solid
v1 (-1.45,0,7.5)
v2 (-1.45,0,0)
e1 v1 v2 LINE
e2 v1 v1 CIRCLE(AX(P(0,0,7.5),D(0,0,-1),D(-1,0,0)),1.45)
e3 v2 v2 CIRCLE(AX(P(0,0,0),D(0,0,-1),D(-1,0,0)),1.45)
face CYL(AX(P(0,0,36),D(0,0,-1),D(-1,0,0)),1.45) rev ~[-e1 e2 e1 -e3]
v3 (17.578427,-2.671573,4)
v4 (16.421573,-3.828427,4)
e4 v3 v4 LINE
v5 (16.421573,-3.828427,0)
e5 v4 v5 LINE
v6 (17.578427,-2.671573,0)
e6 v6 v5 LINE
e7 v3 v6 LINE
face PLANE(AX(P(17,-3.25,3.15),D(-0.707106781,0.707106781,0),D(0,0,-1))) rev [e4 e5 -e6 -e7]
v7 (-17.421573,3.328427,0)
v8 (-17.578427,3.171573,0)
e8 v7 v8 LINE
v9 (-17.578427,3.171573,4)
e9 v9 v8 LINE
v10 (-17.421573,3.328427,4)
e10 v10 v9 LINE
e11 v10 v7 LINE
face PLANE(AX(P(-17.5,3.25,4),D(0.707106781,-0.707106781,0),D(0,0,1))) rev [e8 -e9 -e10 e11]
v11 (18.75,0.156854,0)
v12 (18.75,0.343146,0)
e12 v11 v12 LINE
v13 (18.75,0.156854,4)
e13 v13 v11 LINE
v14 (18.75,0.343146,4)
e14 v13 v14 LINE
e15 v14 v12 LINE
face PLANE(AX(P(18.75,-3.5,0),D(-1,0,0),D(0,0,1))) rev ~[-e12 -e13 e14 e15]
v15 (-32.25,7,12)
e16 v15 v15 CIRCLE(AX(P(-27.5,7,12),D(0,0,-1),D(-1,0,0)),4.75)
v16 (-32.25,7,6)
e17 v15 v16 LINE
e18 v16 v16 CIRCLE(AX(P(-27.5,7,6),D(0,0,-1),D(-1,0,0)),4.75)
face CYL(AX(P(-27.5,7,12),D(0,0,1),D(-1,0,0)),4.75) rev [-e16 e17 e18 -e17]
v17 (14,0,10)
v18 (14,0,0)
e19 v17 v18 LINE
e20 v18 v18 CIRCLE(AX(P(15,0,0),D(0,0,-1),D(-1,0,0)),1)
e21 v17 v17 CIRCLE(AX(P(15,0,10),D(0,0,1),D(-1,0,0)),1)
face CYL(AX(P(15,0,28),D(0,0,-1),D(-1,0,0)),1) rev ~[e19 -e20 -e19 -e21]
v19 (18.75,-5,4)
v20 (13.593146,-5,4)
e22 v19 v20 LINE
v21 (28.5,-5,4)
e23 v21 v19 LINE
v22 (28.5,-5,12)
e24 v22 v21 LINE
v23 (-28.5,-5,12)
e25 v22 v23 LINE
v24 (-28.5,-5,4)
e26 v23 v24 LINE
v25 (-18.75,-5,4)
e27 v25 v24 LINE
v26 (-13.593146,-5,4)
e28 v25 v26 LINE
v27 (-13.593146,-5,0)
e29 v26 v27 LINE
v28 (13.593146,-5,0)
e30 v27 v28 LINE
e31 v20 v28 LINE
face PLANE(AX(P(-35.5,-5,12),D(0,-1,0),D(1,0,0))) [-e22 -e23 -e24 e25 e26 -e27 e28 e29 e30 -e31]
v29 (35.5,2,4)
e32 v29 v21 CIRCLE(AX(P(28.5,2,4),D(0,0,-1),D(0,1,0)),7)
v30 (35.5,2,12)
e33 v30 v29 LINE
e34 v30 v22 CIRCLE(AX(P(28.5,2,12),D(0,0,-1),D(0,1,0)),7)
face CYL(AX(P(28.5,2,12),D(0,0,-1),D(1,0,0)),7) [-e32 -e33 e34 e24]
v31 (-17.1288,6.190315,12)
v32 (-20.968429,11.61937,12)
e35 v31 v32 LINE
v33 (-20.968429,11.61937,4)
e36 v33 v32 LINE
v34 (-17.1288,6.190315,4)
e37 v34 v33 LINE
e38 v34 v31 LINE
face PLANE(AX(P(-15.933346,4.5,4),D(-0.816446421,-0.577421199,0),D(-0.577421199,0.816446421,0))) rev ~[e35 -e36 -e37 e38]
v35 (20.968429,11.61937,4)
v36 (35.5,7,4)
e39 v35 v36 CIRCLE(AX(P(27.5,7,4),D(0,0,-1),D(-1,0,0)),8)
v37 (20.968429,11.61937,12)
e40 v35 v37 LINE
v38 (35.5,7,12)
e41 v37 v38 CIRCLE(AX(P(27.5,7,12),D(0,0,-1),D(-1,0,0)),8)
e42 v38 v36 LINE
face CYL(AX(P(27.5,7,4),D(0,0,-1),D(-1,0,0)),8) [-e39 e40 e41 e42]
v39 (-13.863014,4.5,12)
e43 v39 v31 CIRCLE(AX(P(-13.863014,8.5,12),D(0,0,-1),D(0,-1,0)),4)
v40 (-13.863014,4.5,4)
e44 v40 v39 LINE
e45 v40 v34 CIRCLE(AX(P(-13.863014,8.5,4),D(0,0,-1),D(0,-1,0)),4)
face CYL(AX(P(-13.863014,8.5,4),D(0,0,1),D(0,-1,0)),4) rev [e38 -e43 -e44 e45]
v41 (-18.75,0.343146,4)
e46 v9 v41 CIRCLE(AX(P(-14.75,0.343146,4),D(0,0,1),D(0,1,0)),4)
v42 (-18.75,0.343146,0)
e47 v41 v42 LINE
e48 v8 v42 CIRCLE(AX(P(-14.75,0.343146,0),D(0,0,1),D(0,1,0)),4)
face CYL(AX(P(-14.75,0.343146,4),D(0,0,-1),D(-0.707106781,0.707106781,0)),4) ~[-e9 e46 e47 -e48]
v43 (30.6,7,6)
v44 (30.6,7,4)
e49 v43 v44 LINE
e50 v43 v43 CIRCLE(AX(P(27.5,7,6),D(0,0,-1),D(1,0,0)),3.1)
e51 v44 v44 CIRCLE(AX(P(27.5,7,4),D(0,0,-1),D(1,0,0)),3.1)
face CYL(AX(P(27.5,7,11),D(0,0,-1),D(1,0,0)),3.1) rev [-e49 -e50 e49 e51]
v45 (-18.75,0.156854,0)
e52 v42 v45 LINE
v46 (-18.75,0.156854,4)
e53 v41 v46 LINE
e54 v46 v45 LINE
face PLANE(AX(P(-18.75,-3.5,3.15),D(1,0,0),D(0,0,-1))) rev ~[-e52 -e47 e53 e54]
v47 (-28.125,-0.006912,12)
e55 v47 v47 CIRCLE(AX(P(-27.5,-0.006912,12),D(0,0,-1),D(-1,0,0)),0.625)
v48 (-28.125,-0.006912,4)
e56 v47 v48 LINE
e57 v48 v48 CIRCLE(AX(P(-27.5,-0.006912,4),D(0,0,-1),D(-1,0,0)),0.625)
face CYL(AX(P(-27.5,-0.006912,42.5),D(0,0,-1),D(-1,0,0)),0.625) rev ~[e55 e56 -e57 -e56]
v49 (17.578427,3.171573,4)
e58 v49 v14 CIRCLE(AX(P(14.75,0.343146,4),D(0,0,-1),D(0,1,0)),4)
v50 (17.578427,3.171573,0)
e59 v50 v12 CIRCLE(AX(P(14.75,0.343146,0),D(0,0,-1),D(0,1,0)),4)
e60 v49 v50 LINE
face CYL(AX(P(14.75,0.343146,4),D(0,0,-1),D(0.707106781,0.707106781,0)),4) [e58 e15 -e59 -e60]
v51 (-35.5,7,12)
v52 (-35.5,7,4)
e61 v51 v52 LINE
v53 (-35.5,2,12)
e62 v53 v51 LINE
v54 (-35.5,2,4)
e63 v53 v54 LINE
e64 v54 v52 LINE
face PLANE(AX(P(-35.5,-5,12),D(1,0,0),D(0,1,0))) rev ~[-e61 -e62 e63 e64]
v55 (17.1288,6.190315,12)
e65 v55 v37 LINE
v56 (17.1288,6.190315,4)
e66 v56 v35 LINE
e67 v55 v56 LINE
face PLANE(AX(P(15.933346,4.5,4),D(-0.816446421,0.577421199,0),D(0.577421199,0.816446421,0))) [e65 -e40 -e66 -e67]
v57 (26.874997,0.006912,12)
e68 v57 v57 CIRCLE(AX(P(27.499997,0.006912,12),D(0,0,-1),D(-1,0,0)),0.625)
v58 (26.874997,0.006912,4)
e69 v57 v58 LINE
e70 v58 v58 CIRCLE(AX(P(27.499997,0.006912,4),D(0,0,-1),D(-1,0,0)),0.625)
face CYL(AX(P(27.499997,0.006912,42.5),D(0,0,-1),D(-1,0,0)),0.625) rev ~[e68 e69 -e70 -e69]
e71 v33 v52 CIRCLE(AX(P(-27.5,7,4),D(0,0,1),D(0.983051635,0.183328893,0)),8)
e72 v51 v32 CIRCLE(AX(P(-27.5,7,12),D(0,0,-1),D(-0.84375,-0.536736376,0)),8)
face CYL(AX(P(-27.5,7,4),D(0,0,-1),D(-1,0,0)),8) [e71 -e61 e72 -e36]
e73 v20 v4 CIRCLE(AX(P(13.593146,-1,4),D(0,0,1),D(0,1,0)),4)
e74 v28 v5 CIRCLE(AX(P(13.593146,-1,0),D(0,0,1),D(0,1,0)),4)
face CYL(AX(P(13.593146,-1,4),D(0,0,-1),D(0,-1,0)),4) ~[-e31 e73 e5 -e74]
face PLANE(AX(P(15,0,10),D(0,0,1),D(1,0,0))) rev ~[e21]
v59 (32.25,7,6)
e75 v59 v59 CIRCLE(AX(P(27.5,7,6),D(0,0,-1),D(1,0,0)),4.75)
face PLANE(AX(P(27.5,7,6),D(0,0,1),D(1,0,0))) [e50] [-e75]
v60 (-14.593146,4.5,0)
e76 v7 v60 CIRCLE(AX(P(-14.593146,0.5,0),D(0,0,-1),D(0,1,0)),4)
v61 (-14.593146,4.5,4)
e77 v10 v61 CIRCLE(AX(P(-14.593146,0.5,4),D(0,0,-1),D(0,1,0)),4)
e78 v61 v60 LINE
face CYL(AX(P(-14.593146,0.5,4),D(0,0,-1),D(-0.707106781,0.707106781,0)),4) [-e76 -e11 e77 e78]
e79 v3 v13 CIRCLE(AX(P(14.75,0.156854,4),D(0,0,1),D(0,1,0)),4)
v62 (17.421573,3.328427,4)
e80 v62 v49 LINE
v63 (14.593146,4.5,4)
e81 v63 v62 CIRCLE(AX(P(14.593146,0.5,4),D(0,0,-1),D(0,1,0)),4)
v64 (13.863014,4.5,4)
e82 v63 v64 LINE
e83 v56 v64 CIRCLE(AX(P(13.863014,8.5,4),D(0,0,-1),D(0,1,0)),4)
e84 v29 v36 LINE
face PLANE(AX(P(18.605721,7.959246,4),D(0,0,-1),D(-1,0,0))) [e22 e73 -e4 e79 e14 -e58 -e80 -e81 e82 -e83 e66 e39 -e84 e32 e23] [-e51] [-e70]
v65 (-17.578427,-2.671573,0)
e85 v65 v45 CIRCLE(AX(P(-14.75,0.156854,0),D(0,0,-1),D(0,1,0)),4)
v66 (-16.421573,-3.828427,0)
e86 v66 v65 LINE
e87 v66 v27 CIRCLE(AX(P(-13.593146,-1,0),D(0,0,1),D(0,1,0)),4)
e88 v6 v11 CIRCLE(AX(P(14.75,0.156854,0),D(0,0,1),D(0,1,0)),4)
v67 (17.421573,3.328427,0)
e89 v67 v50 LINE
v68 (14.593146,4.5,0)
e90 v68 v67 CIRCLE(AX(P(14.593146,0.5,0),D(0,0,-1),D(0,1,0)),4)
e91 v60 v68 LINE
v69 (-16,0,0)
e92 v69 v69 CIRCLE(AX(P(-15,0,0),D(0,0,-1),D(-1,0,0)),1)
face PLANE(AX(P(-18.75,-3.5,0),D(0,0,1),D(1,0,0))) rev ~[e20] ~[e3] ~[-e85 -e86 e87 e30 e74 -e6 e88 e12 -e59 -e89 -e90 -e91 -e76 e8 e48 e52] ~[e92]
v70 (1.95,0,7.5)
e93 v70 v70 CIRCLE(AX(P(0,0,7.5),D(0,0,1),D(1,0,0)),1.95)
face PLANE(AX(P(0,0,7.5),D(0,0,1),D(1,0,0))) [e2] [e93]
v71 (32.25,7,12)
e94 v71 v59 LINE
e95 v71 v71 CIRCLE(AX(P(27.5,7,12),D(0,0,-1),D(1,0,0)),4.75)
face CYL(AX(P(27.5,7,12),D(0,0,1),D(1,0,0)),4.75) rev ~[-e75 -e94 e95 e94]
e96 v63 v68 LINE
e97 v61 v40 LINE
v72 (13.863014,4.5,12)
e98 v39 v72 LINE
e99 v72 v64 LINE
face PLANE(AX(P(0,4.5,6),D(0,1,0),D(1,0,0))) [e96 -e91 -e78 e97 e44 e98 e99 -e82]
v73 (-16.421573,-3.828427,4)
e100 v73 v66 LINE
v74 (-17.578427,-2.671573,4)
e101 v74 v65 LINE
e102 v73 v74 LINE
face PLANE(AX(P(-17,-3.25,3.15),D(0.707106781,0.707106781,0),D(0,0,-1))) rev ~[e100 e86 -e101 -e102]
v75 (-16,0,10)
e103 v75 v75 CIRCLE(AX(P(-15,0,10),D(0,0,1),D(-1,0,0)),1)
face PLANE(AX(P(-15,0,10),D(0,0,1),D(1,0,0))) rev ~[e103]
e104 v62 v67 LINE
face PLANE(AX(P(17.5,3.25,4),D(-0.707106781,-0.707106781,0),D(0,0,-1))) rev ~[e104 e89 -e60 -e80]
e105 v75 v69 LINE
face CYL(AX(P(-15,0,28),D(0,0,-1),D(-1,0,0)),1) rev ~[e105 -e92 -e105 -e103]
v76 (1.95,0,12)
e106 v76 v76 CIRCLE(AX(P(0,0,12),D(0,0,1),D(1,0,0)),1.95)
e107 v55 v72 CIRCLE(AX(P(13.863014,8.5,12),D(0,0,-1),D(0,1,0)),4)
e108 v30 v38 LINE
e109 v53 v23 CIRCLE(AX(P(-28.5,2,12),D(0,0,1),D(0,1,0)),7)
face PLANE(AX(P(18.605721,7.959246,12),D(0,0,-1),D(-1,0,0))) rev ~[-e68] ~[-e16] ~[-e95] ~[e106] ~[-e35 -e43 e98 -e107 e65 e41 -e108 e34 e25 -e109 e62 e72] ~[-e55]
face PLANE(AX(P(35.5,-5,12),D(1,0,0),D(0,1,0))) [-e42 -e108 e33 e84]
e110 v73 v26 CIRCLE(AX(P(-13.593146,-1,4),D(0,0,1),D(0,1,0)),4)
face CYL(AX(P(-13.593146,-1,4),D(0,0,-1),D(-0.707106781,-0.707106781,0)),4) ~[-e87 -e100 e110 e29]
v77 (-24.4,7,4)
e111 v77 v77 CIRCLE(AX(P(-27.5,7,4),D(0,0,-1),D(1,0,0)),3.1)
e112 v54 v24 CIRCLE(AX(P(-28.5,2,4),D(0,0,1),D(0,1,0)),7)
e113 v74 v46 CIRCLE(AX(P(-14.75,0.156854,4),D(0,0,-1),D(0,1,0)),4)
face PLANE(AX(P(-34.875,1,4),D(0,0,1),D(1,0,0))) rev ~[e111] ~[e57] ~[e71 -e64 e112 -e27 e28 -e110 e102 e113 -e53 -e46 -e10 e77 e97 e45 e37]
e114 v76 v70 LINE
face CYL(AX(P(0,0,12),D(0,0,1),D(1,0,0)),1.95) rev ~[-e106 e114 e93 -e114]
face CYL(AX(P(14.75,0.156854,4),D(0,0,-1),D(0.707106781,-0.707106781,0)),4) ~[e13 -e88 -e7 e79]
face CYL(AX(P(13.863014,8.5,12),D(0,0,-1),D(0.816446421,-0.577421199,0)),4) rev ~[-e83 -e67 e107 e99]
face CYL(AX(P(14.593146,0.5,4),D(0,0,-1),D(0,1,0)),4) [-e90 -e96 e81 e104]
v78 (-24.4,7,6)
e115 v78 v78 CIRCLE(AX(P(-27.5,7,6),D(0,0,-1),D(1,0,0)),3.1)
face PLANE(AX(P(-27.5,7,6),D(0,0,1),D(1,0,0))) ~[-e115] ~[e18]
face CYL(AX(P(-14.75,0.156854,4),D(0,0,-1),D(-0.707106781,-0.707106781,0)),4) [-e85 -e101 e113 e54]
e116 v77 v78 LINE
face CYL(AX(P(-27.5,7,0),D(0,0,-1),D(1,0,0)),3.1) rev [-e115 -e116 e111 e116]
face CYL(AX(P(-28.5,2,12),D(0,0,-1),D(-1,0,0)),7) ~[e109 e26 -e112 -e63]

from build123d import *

# Parameters (mm, degrees)
SKETCH1_W                     = 68.5
SKETCH1_H                     = 7
BOSS_EXTRUDE1_DEPTH           = 12
BOSS_EXTRUDE1_DEPTH_BACK      = 12
SKETCH2_W                     = 15.5
SKETCH2_H                     = 6.3
CUT_EXTRUDE1_DEPTH            = 8
SKETCH3_W                     = 13.5
SKETCH3_H                     = 8.85
BOSS_EXTRUDE2_DEPTH           = 10
SKETCH4_R                     = 3.1
CUT_EXTRUDE2_DEPTH            = 22
CUT_EXTRUDE2_DEPTH_BACK       = 24.5
CUT_EXTRUDE3_DEPTH            = 5
SKETCH6_R                     = 6.2
CUT_EXTRUDE4_DEPTH            = 1
MIRROR2_COPY_1_SKETCH_R       = 6.2
MIRROR2_COPY_1_DEPTH          = 1
SKETCH7_W                     = 13.5
SKETCH7_H                     = 8.5
CUT_EXTRUDE5_DEPTH            = 1
MIRROR5_COPY_1_SKETCH_W       = 13.5
MIRROR5_COPY_1_SKETCH_H       = 8.5
MIRROR5_COPY_1_DEPTH          = 1
TAP_DRILL_FOR_M2_TAP1_D       = 1.6
CUT_EXTRUDE6_DEPTH            = 27
SKETCH12_W                    = 73.606041854
SKETCH12_H                    = 30.436261762
CUT_EXTRUDE7_DEPTH            = 22
F_2_0_2_DIAMETER_HOLE2_D      = 2
F_2_0_2_DIAMETER_HOLE2_DEPTH  = 16
F_2_0_2_DIAMETER_HOLE2_TIP    = 0.600860619
F_2_0_2_DIAMETER_HOLE1_D      = 2
F_2_0_2_DIAMETER_HOLE1_DEPTH  = 16
F_2_0_2_DIAMETER_HOLE1_TIP    = 0.600860619
ESQUISSE5_R                   = 3.1
BOSS_EXTRU_1_DEPTH            = 1
ESQUISSE6_R                   = 4.75
ENL_V_MAT_EXTRU_1_DEPTH       = 6
ESQUISSE7_R                   = 0.8
BOSS_EXTRU_2_DEPTH            = 8.85
ESQUISSE9_R                   = 0.6
ENL_V_MAT_EXTRU_2_DEPTH       = 13
BOSS_EXTRUDE3_DEPTH           = 1.5
SKETCH24_W                    = 17.102440496
SKETCH24_H                    = 20.071516443
CUT_EXTRUDE8_DEPTH            = 0.85
BOSS_EXTRUDE4_DEPTH           = 8
M2_5_CLEARANCE_HOLE1_D        = 2.9
M2_5_CLEARANCE_HOLE1_DEPTH    = 24
M2_5_CLEARANCE_HOLE1_TIP      = 0.871247898
SKETCH26_W                    = 37.5
SKETCH26_H                    = 12
BOSS_EXTRUDE6_DEPTH           = 1
SKETCH27_R                    = 1.95
CUT_EXTRUDE9_DEPTH            = 4.5
CHAMFER2_SIZE                 = 2.5
SKETCH28_R                    = 1
BOSS_EXTRUDE7_DEPTH           = 2
SKETCH29_R                    = 8
SKETCH29_R_2                  = 4.75
BOSS_EXTRUDE8_DEPTH           = 8
SKETCH31_W                    = 1.25
SKETCH31_H                    = 12
BOSS_EXTRUDE9_DEPTH           = 8
FILLET1_R                     = 7
BOSS_EXTRUDE10_DEPTH          = 8
FILLET2_R                     = 4
TAP_DRILL_FOR_M1_6_TAP1_D     = 1.25
TAP_DRILL_FOR_M1_6_TAP1_DEPTH = 30.5
CHAMFER3_SIZE                 = 3.5
FILLET3_R                     = 4


with BuildPart() as part:
    # Sketch1 → Boss-Extrude1 (new body, two sides)
    with BuildSketch(Plane.XY) as boss_extrude1_sk:
        Rectangle(SKETCH1_W, SKETCH1_H)
    extrude(amount=BOSS_EXTRUDE1_DEPTH)
    extrude(boss_extrude1_sk.sketch, amount=-BOSS_EXTRUDE1_DEPTH_BACK)

    # Sketch2 → Cut-Extrude1 (cut, through all)
    with BuildSketch(Plane(origin=(0, 3.5, 0), x_dir=(1, 0, 0), z_dir=(0, 1, 0))):
        with Locations((-26.5, 0)):
            Rectangle(SKETCH2_W, SKETCH2_H)
        with Locations((26.5, 0)):
            Rectangle(SKETCH2_W, SKETCH2_H)
    extrude(amount=-CUT_EXTRUDE1_DEPTH, mode=Mode.SUBTRACT)

    # Sketch3 → Boss-Extrude2 (add)
    with BuildSketch(Plane(origin=(0, 3.5, 0), x_dir=(1, 0, 0), z_dir=(0, 1, 0))):
        with Locations((-27.5, 7.575)):
            Rectangle(SKETCH3_W, SKETCH3_H)
        with Locations((-27.5, -7.575)):
            Rectangle(SKETCH3_W, SKETCH3_H)
        with Locations((27.5, -7.575)):
            Rectangle(SKETCH3_W, SKETCH3_H)
        with Locations((27.5, 7.575)):
            Rectangle(SKETCH3_W, SKETCH3_H)
    extrude(amount=BOSS_EXTRUDE2_DEPTH)

    # Sketch4 → Cut-Extrude2 (cut, two sides)
    with BuildSketch(Plane.XY) as cut_extrude2_sk:
        with Locations((-27.5, 7)):
            Circle(SKETCH4_R)
        with Locations((27.5, 7)):
            Circle(SKETCH4_R)
    extrude(amount=CUT_EXTRUDE2_DEPTH, mode=Mode.SUBTRACT)
    extrude(cut_extrude2_sk.sketch, amount=-CUT_EXTRUDE2_DEPTH_BACK, mode=Mode.SUBTRACT)

    # Sketch5 → Cut-Extrude3 (cut)
    with BuildSketch(Plane.XY):
        Polygon((15, 3.5), (36.256888292, -2.195766051), (36.256888292, 13.5), (15, 13.5), align=None)
    extrude(amount=-CUT_EXTRUDE3_DEPTH, mode=Mode.SUBTRACT)

    # Sketch6 → Cut-Extrude4 (cut)
    with BuildSketch(Plane.XY.offset(12)):
        with Locations((27.5, 7)):
            Circle(SKETCH6_R)
    cut_extrude4 = extrude(amount=-CUT_EXTRUDE4_DEPTH, mode=Mode.SUBTRACT)

    # Mirror1: Cut-Extrude4 across plane
    add(cut_extrude4.mirror(Plane.XY), mode=Mode.SUBTRACT)

    # Mirror2: Cut-Extrude4 across plane
    add(cut_extrude4.mirror(Plane(origin=(0, 0, 0), x_dir=(0, 0, 1), z_dir=(1, 0, 0))), mode=Mode.SUBTRACT)

    # Mirror2 copy 1 sketch → Mirror2 copy 1 (cut)
    with BuildSketch(Plane(origin=(0, 0, -12), x_dir=(-1, 0, 0), z_dir=(0, 0, -1))):
        with Locations((27.5, 7)):
            Circle(MIRROR2_COPY_1_SKETCH_R)
    extrude(amount=-MIRROR2_COPY_1_DEPTH, mode=Mode.SUBTRACT)

    # Sketch7 → Cut-Extrude5 (cut)
    with BuildSketch(Plane.XY.offset(12)):
        with Locations((-27.5, 9.25)):
            Rectangle(SKETCH7_W, SKETCH7_H)
    cut_extrude5 = extrude(amount=-CUT_EXTRUDE5_DEPTH, mode=Mode.SUBTRACT)

    # Mirror3: Cut-Extrude5 across plane
    add(cut_extrude5.mirror(Plane(origin=(0, 0, 0), x_dir=(0, 0, 1), z_dir=(1, 0, 0))), mode=Mode.SUBTRACT)

    # Mirror5: Cut-Extrude5 across plane
    add(cut_extrude5.mirror(Plane.XY), mode=Mode.SUBTRACT)

    # Mirror5 copy 1 sketch → Mirror5 copy 1 (cut)
    with BuildSketch(Plane(origin=(0, 0, -12), x_dir=(-1, 0, 0), z_dir=(0, 0, -1))):
        with Locations((-27.5, 9.25)):
            Rectangle(MIRROR5_COPY_1_SKETCH_W, MIRROR5_COPY_1_SKETCH_H)
    extrude(amount=-MIRROR5_COPY_1_DEPTH, mode=Mode.SUBTRACT)

    # Tap Drill for M2 Tap1 (through all)
    with Locations(Plane.XY.offset(12)):
        with Locations((-25, 0), (0, 0), (25, 0)):
            Hole(TAP_DRILL_FOR_M2_TAP1_D / 2)

    # Sketch11 → Cut-Extrude6 (cut)
    with BuildSketch(Plane.XY.offset(12)):
        with BuildLine():
            Line((-34.25, 7), (-34.25, 21.221242017))
            Line((-34.25, 21.221242017), (-20.75, 21.221242017))
            Line((-20.75, 21.221242017), (-20.75, 7))
            ThreePointArc((-20.75, 7), (-27.5, 13.75), (-34.25, 7))
        make_face()
    cut_extrude6 = extrude(amount=-CUT_EXTRUDE6_DEPTH, mode=Mode.SUBTRACT)

    # Mirror6: Cut-Extrude6 across plane
    add(cut_extrude6.mirror(Plane(origin=(0, 0, 0), x_dir=(0, 0, 1), z_dir=(1, 0, 0))), mode=Mode.SUBTRACT)

    # Sketch12 → Cut-Extrude7 (cut)
    with BuildSketch(Plane.XY):
        Rectangle(SKETCH12_W, SKETCH12_H)
    extrude(amount=-CUT_EXTRUDE7_DEPTH, mode=Mode.SUBTRACT)

    # 2.0 _2_ Diameter Hole2
    with Locations(Plane.XY.offset(12)):
        with Locations((-15, 0)):
            Hole(F_2_0_2_DIAMETER_HOLE2_D / 2, depth=F_2_0_2_DIAMETER_HOLE2_DEPTH)
            with Locations((0, 0, -(F_2_0_2_DIAMETER_HOLE2_DEPTH + F_2_0_2_DIAMETER_HOLE2_TIP / 2))):  # 118° drill point
                Cone(0, F_2_0_2_DIAMETER_HOLE2_D / 2, F_2_0_2_DIAMETER_HOLE2_TIP, mode=Mode.SUBTRACT)

    # 2.0 _2_ Diameter Hole1
    with Locations(Plane.XY.offset(12)):
        with Locations((15, 0)):
            Hole(F_2_0_2_DIAMETER_HOLE1_D / 2, depth=F_2_0_2_DIAMETER_HOLE1_DEPTH)
            with Locations((0, 0, -(F_2_0_2_DIAMETER_HOLE1_DEPTH + F_2_0_2_DIAMETER_HOLE1_TIP / 2))):  # 118° drill point
                Cone(0, F_2_0_2_DIAMETER_HOLE1_D / 2, F_2_0_2_DIAMETER_HOLE1_TIP, mode=Mode.SUBTRACT)

    # Esquisse5 → Boss.-Extru.1 (add)
    with BuildSketch(Plane.XY.offset(11)):
        with BuildLine():
            Line((20.75, 5), (21.6314397, 5))
            ThreePointArc((21.6314397, 5), (27.5, 0.8), (33.3685603, 5))
            Line((33.3685603, 5), (34.25, 5))
            Line((34.25, 5), (34.25, 7))
            ThreePointArc((34.25, 7), (32.878089133, 11.079051027), (29.320027472, 13.5))
            Line((29.320027472, 13.5), (25.679972528, 13.5))
            ThreePointArc((25.679972528, 13.5), (22.121910867, 11.079051027), (20.75, 7))
            Line((20.75, 7), (20.75, 5))
        make_face()
        with Locations((27.5, 7)):
            Circle(ESQUISSE5_R, mode=Mode.SUBTRACT)
    boss_extru_1 = extrude(amount=BOSS_EXTRU_1_DEPTH)

    # Esquisse6 → Enl_v. mat.-Extru.1 (cut)
    with BuildSketch(Plane.XY.offset(12)):
        with Locations((27.5, 7)):
            Circle(ESQUISSE6_R)
    enl_v_mat_extru_1 = extrude(amount=-ENL_V_MAT_EXTRU_1_DEPTH, mode=Mode.SUBTRACT)

    # Sym_trie1: Boss.-Extru.1, Enl_v. mat.-Extru.1 across plane
    add(boss_extru_1.mirror(Plane(origin=(0, 0, 0), x_dir=(0, 0, 1), z_dir=(1, 0, 0))))
    add(enl_v_mat_extru_1.mirror(Plane(origin=(0, 0, 0), x_dir=(0, 0, 1), z_dir=(1, 0, 0))), mode=Mode.SUBTRACT)

    # Esquisse7 → Boss.-Extru.2 (add)
    with BuildSketch(Plane.XY.offset(12)):
        with Locations((-25, 0)):
            Circle(ESQUISSE7_R)
        with Locations((25, 0)):
            Circle(ESQUISSE7_R)
    extrude(amount=-BOSS_EXTRU_2_DEPTH)

    # Esquisse9 → Enl_v. mat.-Extru.2 (cut, through all)
    with BuildSketch(Plane.XY.offset(12)):
        with Locations((27.5, 0)):
            Circle(ESQUISSE9_R)
        with Locations((-27.5, 0)):
            Circle(ESQUISSE9_R)
    extrude(amount=-ENL_V_MAT_EXTRU_2_DEPTH, mode=Mode.SUBTRACT)

    # Sketch18 → Boss-Extrude3 (add)
    with BuildSketch(Plane.XZ.offset(3.5)):
        Polygon((-18.75, 0), (18.75, 0), (18.75, 3.15), (34.25, 3.15), (34.25, 12), (-34.25, 12), (-34.25, 3.15), (-18.75, 3.15), align=None)
    extrude(amount=BOSS_EXTRUDE3_DEPTH)

    # Sketch24 → Cut-Extrude8 (cut)
    with BuildSketch(Plane(origin=(0, 0, 3.15), x_dir=(-1, 0, 0), z_dir=(0, 0, -1))):
        with Locations((-27.301220248, 5.035758222)):
            Rectangle(SKETCH24_W, SKETCH24_H)
        with Locations((27.301220248, 5.035758222)):
            Rectangle(SKETCH24_W, SKETCH24_H)
    extrude(amount=-CUT_EXTRUDE8_DEPTH, mode=Mode.SUBTRACT)

    # Sketch19 → Boss-Extrude4 (add)
    with BuildSketch(Plane(origin=(0, 0, 4), x_dir=(-1, 0, 0), z_dir=(0, 0, -1))):
        Polygon((22.565408914, 11.605682449), (15, 3.5), (20.75, 3.5), align=None)
        Polygon((-20.75, 3.5), (-15, 3.5), (-22.565408914, 11.605682449), align=None)
    extrude(amount=-BOSS_EXTRUDE4_DEPTH)

    # M2.5 Clearance Hole1
    with Locations(Plane.XY.offset(12)):
        with Locations((0, 0)):
            Hole(M2_5_CLEARANCE_HOLE1_D / 2, depth=M2_5_CLEARANCE_HOLE1_DEPTH)
            with Locations((0, 0, -(M2_5_CLEARANCE_HOLE1_DEPTH + M2_5_CLEARANCE_HOLE1_TIP / 2))):  # 118° drill point
                Cone(0, M2_5_CLEARANCE_HOLE1_D / 2, M2_5_CLEARANCE_HOLE1_TIP, mode=Mode.SUBTRACT)

    # Sketch26 → Boss-Extrude6 (add)
    with BuildSketch(Plane(origin=(0, 3.5, 0), x_dir=(1, 0, 0), z_dir=(0, 1, 0))):
        with Locations((0, -6)):
            Rectangle(SKETCH26_W, SKETCH26_H)
    extrude(amount=BOSS_EXTRUDE6_DEPTH)

    # Sketch27 → Cut-Extrude9 (cut)
    with BuildSketch(Plane.XY.offset(12)):
        Circle(SKETCH27_R)
    extrude(amount=-CUT_EXTRUDE9_DEPTH, mode=Mode.SUBTRACT)

    # Chamfer2
    chamfer2_edges = [part.edges().sort_by_distance(p)[0] for p in [
        (-18.75, 4.5, 2),
        (18.75, 4.5, 2),
    ]]
    chamfer(chamfer2_edges, length=CHAMFER2_SIZE)

    # Sketch28 → Boss-Extrude7 (add)
    with BuildSketch(Plane.XY.offset(12)):
        with Locations((-15, 0)):
            Circle(SKETCH28_R)
        with Locations((15, 0)):
            Circle(SKETCH28_R)
    extrude(amount=-BOSS_EXTRUDE7_DEPTH)

    # Sketch29 → Boss-Extrude8 (add)
    with BuildSketch(Plane(origin=(0, 0, 4), x_dir=(-1, 0, 0), z_dir=(0, 0, -1))):
        with Locations((27.5, 7)):
            Circle(SKETCH29_R)
        with Locations((27.5, 7)):
            Circle(SKETCH29_R_2, mode=Mode.SUBTRACT)
        with Locations((-27.5, 7)):
            Circle(SKETCH29_R)
        with Locations((-27.5, 7)):
            Circle(SKETCH29_R_2, mode=Mode.SUBTRACT)
    extrude(amount=-BOSS_EXTRUDE8_DEPTH)

    # Sketch31 → Boss-Extrude9 (add)
    with BuildSketch(Plane.XY.offset(12)):
        with Locations((-34.875, 1)):
            Rectangle(SKETCH31_W, SKETCH31_H)
        with Locations((34.875, 1)):
            Rectangle(SKETCH31_W, SKETCH31_H)
    extrude(amount=-BOSS_EXTRUDE9_DEPTH)

    # Fillet1
    fillet1_edges = [part.edges().sort_by_distance(p)[0] for p in [
        (-35.5, -5, 8),
        (35.5, -5, 8),
    ]]
    fillet(fillet1_edges, radius=FILLET1_R)

    # Sketch32 → Boss-Extrude10 (add)
    with BuildSketch(Plane(origin=(0, 0, 4), x_dir=(-1, 0, 0), z_dir=(0, 0, -1))):
        Polygon((-15.933346324, 4.5), (-20.968428631, 11.619369595), (-19.635586921, 8.466631145), align=None)
        Polygon((19.635586921, 8.466631145), (15.933346324, 4.5), (20.968428631, 11.619369595), align=None)
    extrude(amount=-BOSS_EXTRUDE10_DEPTH)

    # Fillet2
    fillet2_edges = [part.edges().sort_by_distance(p)[0] for p in [
        (15.933346324, 4.5, 8),
        (-15.933346324, 4.5, 8),
    ]]
    fillet(fillet2_edges, radius=FILLET2_R)

    # Tap Drill for M1.6 Tap1
    with Locations(Plane.XY.offset(12)):
        with Locations((-27.500000011, -0.006912425), (27.499997471, 0.006912424)):
            Hole(TAP_DRILL_FOR_M1_6_TAP1_D / 2, depth=TAP_DRILL_FOR_M1_6_TAP1_DEPTH)

    # Chamfer3
    chamfer3_edges = [part.edges().sort_by_distance(p)[0] for p in [
        (-18.75, -5, 2),
        (18.75, -5, 2),
    ]]
    chamfer(chamfer3_edges, length=CHAMFER3_SIZE)

    # Fillet3
    fillet3_edges = [part.edges().sort_by_distance(p)[0] for p in [
        (-16.25, 4.5, 2),
        (16.25, 4.5, 2),
        (18.75, 2, 2),
        (-18.75, 2, 2),
        (15.25, -5, 2),
        (-15.25, -5, 2),
        (-18.75, -1.5, 2),
        (18.75, -1.5, 2),
    ]]
    fillet(fillet3_edges, radius=FILLET3_R)


solid = part.part
